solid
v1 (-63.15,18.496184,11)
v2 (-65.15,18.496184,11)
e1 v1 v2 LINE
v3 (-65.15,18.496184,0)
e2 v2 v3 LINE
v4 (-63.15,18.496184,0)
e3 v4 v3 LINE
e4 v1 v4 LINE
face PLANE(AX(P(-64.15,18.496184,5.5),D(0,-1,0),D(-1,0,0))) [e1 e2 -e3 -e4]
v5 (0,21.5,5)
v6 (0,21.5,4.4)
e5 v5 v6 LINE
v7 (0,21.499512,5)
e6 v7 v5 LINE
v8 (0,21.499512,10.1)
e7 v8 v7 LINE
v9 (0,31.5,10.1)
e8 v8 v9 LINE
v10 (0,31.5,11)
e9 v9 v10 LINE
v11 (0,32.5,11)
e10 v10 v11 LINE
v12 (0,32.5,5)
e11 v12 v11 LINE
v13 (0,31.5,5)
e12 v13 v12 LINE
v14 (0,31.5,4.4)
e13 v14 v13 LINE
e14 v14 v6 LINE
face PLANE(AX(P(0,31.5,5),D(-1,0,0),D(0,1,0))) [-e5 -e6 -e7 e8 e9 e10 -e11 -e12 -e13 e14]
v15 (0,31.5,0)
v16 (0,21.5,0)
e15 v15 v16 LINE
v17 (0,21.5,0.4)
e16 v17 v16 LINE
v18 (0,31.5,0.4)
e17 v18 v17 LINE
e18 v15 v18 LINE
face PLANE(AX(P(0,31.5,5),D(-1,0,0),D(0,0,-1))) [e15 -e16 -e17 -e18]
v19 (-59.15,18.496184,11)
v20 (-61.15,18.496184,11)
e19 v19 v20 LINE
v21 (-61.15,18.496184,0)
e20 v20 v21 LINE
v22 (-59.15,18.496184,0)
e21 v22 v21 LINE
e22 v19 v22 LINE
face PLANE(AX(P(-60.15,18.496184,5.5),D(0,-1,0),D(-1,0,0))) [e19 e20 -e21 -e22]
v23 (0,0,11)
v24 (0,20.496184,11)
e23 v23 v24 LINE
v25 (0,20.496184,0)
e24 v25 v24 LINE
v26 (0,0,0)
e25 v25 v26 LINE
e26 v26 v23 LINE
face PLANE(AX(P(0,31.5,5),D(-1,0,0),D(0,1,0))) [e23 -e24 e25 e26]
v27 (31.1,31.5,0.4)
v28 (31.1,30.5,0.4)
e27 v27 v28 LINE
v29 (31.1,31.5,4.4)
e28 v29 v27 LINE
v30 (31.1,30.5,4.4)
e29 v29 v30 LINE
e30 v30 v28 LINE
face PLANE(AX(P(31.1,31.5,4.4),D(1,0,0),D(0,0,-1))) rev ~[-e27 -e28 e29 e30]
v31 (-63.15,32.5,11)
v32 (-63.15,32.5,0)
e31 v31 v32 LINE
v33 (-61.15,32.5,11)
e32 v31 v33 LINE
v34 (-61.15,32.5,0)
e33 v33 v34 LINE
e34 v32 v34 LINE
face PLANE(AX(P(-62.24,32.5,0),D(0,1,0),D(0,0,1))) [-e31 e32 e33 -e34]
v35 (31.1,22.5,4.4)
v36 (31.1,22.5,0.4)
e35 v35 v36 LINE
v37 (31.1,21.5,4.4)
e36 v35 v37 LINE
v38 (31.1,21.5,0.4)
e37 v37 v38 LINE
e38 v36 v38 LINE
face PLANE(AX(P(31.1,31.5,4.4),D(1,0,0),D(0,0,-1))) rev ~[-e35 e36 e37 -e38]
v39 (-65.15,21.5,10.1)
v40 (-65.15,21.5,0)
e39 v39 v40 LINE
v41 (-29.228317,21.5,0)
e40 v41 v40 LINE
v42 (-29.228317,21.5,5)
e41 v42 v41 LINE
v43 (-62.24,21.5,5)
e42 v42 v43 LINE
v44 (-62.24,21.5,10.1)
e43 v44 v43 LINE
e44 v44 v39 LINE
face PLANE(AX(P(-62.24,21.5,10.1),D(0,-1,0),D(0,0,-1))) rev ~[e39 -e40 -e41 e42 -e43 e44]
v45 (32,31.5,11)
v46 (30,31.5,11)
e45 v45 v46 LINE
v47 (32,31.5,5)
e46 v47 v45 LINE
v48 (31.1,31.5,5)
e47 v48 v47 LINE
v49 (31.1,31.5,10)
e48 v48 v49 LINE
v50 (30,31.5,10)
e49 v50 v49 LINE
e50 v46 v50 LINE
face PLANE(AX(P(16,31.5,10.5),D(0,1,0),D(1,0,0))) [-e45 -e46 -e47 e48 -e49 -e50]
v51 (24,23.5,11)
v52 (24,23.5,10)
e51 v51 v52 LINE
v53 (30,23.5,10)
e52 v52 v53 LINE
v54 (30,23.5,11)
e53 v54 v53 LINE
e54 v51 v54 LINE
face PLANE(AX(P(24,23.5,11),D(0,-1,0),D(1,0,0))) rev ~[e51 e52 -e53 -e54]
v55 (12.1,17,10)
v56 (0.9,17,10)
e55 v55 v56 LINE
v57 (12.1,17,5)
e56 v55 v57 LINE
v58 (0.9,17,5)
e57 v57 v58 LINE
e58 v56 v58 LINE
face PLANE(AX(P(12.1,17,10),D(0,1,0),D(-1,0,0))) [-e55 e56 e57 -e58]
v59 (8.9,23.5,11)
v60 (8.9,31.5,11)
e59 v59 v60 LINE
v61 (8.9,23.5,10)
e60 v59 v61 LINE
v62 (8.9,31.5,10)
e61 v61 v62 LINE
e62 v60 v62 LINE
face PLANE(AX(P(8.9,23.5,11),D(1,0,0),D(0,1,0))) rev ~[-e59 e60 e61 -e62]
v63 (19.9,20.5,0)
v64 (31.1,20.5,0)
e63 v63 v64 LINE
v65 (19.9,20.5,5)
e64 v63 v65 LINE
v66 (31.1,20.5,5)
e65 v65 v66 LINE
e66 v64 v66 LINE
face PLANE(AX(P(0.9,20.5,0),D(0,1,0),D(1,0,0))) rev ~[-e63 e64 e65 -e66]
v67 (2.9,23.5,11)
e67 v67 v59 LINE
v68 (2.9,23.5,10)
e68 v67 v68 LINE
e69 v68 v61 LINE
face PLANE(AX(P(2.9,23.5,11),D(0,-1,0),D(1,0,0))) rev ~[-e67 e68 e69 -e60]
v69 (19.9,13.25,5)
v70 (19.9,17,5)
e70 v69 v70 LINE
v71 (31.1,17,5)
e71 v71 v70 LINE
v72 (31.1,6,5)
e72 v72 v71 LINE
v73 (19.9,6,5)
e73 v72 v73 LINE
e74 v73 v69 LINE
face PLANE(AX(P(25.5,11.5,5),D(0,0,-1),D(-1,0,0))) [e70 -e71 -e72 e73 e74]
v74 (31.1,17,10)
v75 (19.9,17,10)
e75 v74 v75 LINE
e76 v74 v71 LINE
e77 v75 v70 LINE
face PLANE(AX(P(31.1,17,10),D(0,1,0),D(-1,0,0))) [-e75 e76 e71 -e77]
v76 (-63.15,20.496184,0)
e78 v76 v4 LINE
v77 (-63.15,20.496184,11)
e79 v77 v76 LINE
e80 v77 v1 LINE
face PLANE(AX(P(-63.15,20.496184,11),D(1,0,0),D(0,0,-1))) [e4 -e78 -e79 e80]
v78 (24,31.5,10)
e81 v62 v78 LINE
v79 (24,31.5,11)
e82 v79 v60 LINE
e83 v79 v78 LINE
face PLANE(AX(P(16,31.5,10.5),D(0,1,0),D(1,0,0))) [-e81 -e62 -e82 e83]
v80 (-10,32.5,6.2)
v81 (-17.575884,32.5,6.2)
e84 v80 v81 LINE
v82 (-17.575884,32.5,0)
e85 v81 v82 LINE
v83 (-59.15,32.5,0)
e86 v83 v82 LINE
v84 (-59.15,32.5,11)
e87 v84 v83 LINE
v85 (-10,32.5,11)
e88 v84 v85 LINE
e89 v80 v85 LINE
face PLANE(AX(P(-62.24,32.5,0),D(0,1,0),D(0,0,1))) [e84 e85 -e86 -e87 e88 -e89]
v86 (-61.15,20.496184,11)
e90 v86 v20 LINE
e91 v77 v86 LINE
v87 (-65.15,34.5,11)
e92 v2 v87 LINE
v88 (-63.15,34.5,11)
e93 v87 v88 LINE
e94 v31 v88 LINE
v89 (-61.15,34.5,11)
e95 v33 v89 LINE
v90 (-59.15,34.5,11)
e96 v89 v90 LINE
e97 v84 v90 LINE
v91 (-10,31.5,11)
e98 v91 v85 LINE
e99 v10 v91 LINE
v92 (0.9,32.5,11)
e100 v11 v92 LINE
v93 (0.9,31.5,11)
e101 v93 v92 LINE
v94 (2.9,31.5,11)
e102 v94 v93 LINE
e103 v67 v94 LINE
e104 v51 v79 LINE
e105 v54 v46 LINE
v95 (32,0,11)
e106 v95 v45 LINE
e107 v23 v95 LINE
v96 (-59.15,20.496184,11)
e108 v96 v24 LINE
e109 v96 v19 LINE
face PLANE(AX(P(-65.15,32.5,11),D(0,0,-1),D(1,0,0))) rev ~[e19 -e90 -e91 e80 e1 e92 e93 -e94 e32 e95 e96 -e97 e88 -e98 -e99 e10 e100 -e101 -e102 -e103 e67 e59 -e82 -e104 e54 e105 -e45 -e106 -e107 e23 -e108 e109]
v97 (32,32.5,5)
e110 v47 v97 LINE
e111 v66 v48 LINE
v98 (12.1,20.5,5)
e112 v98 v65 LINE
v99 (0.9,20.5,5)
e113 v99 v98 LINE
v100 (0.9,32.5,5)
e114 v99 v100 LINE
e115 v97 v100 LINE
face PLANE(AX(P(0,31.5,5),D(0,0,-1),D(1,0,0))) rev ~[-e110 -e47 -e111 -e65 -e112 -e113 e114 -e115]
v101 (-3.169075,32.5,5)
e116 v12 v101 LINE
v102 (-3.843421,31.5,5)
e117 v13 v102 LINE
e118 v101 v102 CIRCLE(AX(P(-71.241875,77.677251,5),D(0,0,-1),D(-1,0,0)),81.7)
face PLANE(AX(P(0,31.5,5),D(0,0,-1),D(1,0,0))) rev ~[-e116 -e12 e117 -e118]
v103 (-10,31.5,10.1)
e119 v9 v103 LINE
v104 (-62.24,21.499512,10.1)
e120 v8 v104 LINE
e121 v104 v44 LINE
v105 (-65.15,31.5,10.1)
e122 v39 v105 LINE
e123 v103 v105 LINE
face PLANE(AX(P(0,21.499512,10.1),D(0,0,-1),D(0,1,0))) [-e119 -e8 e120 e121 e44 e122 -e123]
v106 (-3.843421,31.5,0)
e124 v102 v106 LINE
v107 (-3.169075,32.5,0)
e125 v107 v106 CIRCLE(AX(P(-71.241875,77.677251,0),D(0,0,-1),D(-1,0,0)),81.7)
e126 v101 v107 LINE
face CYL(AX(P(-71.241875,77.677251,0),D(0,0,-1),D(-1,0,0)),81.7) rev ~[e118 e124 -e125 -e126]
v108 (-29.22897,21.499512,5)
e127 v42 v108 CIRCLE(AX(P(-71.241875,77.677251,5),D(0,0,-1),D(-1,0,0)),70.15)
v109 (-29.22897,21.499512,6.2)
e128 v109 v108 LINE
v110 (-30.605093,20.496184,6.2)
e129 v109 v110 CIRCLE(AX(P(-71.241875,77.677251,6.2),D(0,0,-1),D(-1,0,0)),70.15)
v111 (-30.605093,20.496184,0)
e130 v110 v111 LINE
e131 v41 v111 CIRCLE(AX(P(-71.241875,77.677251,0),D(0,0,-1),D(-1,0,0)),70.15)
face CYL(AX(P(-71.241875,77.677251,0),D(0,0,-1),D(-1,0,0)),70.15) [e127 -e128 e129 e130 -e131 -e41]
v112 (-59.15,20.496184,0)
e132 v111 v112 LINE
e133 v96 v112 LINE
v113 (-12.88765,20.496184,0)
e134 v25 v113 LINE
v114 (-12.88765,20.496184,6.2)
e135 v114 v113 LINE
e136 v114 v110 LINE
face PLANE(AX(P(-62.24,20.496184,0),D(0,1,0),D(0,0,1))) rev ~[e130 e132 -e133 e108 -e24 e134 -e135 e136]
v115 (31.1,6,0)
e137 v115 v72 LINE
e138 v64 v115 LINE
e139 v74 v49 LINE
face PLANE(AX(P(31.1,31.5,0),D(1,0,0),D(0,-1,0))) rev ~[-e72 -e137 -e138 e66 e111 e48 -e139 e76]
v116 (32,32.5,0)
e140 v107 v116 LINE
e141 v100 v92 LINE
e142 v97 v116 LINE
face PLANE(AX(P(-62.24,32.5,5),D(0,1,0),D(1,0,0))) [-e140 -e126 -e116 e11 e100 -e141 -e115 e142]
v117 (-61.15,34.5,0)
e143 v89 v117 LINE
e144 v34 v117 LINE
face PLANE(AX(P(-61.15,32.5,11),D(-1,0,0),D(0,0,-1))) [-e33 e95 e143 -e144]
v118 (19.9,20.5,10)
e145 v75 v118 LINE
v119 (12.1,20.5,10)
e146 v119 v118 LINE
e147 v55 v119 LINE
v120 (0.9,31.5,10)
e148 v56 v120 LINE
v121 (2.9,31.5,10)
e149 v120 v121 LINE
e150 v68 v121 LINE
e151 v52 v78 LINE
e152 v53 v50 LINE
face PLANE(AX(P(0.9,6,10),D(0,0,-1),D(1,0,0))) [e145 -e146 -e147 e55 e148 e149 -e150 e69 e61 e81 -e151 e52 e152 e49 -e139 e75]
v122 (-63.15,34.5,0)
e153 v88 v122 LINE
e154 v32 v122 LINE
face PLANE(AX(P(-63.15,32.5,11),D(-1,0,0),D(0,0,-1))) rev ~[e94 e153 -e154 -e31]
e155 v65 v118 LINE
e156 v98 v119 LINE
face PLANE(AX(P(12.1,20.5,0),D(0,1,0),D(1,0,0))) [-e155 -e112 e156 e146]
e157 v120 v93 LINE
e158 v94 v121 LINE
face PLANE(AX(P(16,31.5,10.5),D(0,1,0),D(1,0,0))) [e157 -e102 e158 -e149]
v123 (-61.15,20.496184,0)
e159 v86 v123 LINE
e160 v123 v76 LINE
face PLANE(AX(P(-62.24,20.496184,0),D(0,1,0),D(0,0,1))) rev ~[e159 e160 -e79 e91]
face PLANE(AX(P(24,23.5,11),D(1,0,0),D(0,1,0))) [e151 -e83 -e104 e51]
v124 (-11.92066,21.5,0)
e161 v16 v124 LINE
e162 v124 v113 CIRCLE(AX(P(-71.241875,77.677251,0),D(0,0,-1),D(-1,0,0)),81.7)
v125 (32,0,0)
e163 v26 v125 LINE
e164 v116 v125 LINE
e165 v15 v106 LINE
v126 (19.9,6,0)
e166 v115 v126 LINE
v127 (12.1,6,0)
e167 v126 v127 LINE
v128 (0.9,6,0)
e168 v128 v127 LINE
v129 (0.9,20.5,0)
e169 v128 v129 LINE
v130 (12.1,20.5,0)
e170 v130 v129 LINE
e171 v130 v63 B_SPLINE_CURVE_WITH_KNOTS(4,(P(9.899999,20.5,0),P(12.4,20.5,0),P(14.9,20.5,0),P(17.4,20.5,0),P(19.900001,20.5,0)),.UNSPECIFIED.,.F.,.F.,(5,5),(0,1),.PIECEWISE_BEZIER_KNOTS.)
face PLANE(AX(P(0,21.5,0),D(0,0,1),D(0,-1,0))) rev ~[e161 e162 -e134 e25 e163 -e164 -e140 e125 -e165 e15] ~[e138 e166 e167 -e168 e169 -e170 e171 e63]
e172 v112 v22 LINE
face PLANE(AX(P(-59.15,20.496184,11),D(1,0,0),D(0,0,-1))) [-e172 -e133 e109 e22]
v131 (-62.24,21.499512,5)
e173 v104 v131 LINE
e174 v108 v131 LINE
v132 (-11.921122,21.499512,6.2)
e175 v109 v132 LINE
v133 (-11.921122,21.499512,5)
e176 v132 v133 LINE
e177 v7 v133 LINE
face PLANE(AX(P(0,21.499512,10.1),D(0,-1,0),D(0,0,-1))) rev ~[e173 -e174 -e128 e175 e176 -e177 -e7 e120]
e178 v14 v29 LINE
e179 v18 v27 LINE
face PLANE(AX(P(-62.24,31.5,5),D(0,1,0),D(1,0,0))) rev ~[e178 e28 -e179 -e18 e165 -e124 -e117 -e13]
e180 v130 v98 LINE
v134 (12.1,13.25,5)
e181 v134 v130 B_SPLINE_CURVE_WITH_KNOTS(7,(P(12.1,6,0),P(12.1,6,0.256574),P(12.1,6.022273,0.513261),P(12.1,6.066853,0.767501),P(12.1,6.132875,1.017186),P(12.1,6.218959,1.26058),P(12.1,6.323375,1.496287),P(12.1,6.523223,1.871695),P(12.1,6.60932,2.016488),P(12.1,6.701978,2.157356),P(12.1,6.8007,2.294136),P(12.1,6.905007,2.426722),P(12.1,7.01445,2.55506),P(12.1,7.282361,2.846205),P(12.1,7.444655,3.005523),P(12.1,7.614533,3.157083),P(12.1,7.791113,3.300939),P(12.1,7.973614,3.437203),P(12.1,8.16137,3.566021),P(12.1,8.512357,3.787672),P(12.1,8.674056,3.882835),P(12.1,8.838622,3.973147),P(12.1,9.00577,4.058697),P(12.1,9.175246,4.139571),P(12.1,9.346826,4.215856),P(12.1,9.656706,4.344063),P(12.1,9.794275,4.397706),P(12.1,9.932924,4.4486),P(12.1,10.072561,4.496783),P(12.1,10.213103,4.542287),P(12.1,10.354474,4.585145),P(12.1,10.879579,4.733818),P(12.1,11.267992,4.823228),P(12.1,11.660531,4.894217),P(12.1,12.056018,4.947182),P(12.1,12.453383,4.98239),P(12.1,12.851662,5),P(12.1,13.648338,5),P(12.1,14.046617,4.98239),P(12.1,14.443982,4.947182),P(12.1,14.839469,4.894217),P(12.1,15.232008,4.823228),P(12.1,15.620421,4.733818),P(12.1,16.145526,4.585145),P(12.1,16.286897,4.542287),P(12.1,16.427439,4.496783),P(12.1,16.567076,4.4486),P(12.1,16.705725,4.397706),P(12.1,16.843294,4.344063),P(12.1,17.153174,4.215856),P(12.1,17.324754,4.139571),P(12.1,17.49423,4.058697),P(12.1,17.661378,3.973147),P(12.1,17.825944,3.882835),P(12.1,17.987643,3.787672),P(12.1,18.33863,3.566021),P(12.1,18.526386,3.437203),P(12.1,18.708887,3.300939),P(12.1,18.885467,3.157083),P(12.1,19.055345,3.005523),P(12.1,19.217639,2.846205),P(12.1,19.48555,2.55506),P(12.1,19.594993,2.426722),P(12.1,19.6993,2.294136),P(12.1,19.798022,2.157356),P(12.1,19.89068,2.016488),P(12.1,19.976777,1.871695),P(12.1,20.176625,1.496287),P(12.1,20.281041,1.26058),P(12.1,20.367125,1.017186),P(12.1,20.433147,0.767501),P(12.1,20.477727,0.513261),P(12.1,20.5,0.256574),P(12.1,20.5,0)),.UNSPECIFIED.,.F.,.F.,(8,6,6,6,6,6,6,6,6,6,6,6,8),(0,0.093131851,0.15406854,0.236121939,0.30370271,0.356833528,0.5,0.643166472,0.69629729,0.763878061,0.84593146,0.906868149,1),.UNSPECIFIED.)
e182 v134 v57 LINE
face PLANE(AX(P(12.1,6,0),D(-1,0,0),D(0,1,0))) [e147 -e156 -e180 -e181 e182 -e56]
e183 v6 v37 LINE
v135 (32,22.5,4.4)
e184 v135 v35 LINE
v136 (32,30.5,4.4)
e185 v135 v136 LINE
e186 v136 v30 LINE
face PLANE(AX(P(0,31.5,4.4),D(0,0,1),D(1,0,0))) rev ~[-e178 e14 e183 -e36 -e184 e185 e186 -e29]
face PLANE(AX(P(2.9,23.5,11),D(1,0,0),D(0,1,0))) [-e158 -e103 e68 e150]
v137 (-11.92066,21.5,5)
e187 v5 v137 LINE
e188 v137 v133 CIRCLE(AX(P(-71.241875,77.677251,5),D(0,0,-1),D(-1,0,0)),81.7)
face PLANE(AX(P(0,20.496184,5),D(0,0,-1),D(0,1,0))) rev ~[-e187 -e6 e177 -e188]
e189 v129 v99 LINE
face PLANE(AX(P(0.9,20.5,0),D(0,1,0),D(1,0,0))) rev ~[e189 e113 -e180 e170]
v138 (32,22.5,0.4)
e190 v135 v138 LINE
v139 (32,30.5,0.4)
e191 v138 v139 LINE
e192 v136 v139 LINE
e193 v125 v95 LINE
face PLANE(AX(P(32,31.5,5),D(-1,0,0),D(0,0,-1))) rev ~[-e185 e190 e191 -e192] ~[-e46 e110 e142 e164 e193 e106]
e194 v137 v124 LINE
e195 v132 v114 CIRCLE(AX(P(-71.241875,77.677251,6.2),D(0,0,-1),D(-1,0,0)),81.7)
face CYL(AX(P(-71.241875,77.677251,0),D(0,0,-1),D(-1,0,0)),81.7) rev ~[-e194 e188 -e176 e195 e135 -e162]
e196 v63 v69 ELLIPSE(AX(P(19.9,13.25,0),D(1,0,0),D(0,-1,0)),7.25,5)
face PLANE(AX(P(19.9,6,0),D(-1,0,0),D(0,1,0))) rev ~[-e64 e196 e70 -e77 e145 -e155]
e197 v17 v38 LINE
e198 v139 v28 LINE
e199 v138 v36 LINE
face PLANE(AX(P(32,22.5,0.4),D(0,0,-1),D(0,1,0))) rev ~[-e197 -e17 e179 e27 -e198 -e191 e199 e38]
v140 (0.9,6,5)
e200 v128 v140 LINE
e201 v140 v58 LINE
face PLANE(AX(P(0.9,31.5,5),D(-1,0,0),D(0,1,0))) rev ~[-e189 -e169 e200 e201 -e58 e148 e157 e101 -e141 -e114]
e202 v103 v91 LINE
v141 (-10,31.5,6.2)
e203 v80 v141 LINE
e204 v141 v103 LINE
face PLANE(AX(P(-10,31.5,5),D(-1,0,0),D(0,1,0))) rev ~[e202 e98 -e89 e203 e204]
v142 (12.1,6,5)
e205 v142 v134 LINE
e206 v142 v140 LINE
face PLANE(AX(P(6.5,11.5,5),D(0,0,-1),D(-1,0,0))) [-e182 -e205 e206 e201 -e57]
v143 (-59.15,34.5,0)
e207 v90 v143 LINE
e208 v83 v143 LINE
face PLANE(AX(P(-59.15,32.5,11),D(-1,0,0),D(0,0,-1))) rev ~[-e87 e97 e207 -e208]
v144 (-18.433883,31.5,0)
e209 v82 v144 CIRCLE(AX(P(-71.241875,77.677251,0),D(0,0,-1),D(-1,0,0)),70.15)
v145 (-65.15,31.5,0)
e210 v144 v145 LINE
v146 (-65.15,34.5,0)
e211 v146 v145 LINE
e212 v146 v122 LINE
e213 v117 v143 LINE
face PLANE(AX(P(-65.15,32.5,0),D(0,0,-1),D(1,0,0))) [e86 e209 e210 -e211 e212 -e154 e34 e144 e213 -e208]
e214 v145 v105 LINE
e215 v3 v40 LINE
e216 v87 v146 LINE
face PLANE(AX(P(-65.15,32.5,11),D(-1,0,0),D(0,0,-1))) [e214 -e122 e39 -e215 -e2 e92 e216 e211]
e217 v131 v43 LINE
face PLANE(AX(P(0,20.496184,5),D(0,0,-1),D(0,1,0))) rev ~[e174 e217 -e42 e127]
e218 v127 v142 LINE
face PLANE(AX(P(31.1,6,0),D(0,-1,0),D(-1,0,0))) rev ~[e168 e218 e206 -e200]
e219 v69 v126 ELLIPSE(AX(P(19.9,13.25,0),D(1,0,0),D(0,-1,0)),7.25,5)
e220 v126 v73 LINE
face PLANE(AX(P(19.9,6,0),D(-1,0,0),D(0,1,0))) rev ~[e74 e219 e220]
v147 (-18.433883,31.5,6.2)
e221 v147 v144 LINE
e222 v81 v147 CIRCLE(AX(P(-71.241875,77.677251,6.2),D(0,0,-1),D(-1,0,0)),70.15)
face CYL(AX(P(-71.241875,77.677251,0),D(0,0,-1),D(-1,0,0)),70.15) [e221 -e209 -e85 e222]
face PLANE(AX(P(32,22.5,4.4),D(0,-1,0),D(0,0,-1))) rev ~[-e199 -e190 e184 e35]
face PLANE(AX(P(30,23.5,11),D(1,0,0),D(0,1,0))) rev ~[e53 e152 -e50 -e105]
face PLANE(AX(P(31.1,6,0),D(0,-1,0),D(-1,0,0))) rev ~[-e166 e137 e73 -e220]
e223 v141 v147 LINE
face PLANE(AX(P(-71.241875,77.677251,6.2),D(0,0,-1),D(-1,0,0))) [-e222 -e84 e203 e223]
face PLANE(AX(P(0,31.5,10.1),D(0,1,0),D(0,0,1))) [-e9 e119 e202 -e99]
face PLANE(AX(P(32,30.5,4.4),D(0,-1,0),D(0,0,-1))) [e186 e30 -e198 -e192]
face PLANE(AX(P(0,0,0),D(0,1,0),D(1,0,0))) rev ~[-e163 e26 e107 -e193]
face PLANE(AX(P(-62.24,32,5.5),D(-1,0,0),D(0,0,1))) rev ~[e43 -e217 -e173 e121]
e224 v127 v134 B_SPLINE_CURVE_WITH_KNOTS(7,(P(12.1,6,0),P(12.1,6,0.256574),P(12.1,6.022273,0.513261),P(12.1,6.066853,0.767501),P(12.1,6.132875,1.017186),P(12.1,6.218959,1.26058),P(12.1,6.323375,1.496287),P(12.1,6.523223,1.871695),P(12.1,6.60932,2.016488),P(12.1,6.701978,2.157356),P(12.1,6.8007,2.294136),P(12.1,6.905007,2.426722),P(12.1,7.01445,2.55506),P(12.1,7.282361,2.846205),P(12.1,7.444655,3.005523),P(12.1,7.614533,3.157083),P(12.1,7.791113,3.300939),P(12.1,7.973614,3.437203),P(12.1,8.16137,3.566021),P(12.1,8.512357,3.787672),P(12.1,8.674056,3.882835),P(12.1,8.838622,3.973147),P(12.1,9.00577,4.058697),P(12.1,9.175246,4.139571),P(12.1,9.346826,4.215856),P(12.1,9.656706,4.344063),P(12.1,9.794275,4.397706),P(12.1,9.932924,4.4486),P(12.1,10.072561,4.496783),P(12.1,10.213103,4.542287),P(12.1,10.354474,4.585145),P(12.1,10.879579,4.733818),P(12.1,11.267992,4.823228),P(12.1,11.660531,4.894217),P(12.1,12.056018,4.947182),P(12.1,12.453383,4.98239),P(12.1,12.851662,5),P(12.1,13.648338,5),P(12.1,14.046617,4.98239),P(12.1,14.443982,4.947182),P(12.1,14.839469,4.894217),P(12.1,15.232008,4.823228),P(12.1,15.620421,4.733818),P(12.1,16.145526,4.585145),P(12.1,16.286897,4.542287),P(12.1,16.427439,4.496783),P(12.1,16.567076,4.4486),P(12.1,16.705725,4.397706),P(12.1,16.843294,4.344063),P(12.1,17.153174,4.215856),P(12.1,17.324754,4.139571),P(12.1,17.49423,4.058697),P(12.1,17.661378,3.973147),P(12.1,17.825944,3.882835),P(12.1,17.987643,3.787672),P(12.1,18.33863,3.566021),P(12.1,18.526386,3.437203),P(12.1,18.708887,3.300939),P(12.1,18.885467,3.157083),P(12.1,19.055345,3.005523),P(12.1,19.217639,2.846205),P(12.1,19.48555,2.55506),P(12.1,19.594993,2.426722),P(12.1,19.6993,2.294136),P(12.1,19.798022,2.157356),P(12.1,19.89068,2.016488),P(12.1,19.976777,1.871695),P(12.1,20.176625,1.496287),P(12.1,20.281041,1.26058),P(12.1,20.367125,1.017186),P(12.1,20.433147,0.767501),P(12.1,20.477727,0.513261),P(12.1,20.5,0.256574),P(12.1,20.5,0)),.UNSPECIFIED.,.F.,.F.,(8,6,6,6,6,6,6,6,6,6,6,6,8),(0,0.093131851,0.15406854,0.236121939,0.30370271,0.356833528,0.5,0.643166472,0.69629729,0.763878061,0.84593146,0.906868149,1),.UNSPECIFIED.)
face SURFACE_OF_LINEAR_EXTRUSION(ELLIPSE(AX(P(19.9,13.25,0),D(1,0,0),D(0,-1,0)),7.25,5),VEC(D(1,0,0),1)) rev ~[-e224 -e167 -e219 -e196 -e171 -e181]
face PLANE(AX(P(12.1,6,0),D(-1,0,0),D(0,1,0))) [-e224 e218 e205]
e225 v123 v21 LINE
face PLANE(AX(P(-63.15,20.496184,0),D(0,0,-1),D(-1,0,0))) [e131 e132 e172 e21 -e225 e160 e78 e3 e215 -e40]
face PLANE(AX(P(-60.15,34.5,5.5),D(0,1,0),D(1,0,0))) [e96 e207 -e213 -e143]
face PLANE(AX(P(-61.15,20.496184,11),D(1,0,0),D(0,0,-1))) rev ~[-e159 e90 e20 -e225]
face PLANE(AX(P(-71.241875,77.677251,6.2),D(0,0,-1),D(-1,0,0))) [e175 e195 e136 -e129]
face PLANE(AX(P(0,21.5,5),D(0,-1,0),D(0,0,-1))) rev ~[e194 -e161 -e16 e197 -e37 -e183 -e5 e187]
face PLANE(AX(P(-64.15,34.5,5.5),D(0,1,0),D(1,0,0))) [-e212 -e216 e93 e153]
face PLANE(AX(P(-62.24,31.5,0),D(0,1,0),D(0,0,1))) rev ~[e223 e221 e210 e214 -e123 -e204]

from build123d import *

# Parameters (mm, degrees)
BOSS_EXTRUDE2_DEPTH  = 11
BOSS_EXTRUDE3_DEPTH  = 5
SKETCH2_W            = 30.2
SKETCH2_H            = 1
BOSS_EXTRUDE4_DEPTH  = 25.5
SKETCH1_W            = 7.8
SKETCH1_H            = 14.5
BOSS_EXTRUDE5_DEPTH  = 11
SKETCH3_W            = 11.2
SKETCH3_H            = 11
BOSS_EXTRUDE6_DEPTH  = 5
SKETCH4_W            = 31.1
SKETCH4_H            = 4
CUT_EXTRUDE1_DEPTH   = 10
SKETCH5_W            = 32
SKETCH5_H            = 5
BOSS_EXTRUDE7_DEPTH  = 1
SKETCH7_W            = 5
SKETCH7_H            = 1
SKETCH7_H_2          = 1.003816478
BOSS_EXTRUDE8_DEPTH  = 62.24
SKETCH8_W            = 0.9
SKETCH8_H            = 1
BOSS_EXTRUDE9_DEPTH  = 6
BOSS_EXTRUDE10_DEPTH = 62.26
SKETCH10_W           = 52.24
SKETCH10_H           = 1
BOSS_EXTRUDE11_DEPTH = 6
SKETCH11_R           = 81.7
SKETCH11_R_2         = 70.15
CUT_EXTRUDE2_DEPTH   = 6.2
BOSS_EXTRUDE12_DEPTH = 2.91
SKETCH14_W           = 2
SKETCH14_H           = 11
BOSS_EXTRUDE13_DEPTH = 2
SKETCH15_W           = 2
SKETCH15_H           = 11
BOSS_EXTRUDE14_DEPTH = 2
SKETCH20_RX          = 7.25
SKETCH20_RY          = 5
CUT_EXTRUDE3_DEPTH   = 10
SKETCH21_W           = 6
SKETCH21_H           = 8
CUT_EXTRUDE4_DEPTH   = 1
SKETCH22_W           = 4
SKETCH22_H           = 8
CUT_EXTRUDE5_DEPTH   = 1


with BuildPart() as part:
    # Sketch1<3> → Boss-Extrude2 (new body)
    with BuildSketch(Plane.XY):
        Polygon((0, 31.5), (0, 0), (32, 0), (32, 31.5), (31.1, 31.5), (31.1, 6), (0.9, 6), (0.9, 31.5), align=None)
    extrude(amount=BOSS_EXTRUDE2_DEPTH)

    # Sketch1<4> → Boss-Extrude3 (add)
    with BuildSketch(Plane.XY):
        Polygon((0.9, 31.5), (0.9, 20.5), (12.1, 20.5), (19.9, 20.5), (31.1, 20.5), (31.1, 31.5), align=None)
    extrude(amount=BOSS_EXTRUDE3_DEPTH)

    # Sketch2 → Boss-Extrude4 (add)
    with BuildSketch(Plane(origin=(0, 6, 0), x_dir=(1, 0, 0), z_dir=(0, 1, 0))):
        with Locations((16, -10.5)):
            Rectangle(SKETCH2_W, SKETCH2_H)
    extrude(amount=BOSS_EXTRUDE4_DEPTH)

    # Sketch1 → Boss-Extrude5 (add)
    with BuildSketch(Plane.XY):
        with Locations((16, 13.25)):
            Rectangle(SKETCH1_W, SKETCH1_H)
    extrude(amount=BOSS_EXTRUDE5_DEPTH)

    # Sketch3 → Boss-Extrude6 (add)
    with BuildSketch(Plane(origin=(0, 0, 10), x_dir=(-1, 0, 0), z_dir=(0, 0, -1))):
        with Locations((-6.5, 11.5)):
            Rectangle(SKETCH3_W, SKETCH3_H)
        with Locations((-25.5, 11.5)):
            Rectangle(SKETCH3_W, SKETCH3_H)
    extrude(amount=BOSS_EXTRUDE6_DEPTH)

    # Sketch4 → Cut-Extrude1 (cut)
    with BuildSketch(Plane(origin=(0, 31.5, 0), x_dir=(1, 0, 0), z_dir=(0, 1, 0))):
        with Locations((15.55, -2.4)):
            Rectangle(SKETCH4_W, SKETCH4_H)
    extrude(amount=-CUT_EXTRUDE1_DEPTH, mode=Mode.SUBTRACT)

    # Sketch5 → Boss-Extrude7 (add)
    with BuildSketch(Plane(origin=(0, 31.5, 0), x_dir=(1, 0, 0), z_dir=(0, 1, 0))):
        with Locations((16, -2.5)):
            Rectangle(SKETCH5_W, SKETCH5_H)
    extrude(amount=BOSS_EXTRUDE7_DEPTH)

    # Sketch7 → Boss-Extrude8 (add)
    with BuildSketch(Plane.ZY):
        with Locations((2.5, 32)):
            Rectangle(SKETCH7_W, SKETCH7_H)
        with Locations((2.5, 20.998091761)):
            Rectangle(SKETCH7_W, SKETCH7_H_2)
    extrude(amount=BOSS_EXTRUDE8_DEPTH)

    # Sketch8 → Boss-Extrude9 (add)
    with BuildSketch(Plane.XY.offset(5)):
        with Locations((0.45, 32)):
            Rectangle(SKETCH8_W, SKETCH8_H)
    extrude(amount=BOSS_EXTRUDE9_DEPTH)

    # Sketch9 → Boss-Extrude10 (add)
    with BuildSketch(Plane.ZY):
        Polygon((11, 31.5), (10.1, 31.5), (10.1, 21.499511858), (5, 21.499511858), (5, 20.496183522), (11, 20.496183522), align=None)
    extrude(amount=BOSS_EXTRUDE10_DEPTH)

    # Sketch10 → Boss-Extrude11 (add)
    with BuildSketch(Plane.XY.offset(5)):
        with Locations((-36.12, 32)):
            Rectangle(SKETCH10_W, SKETCH10_H)
    extrude(amount=BOSS_EXTRUDE11_DEPTH)

    # Sketch11 → Cut-Extrude2 (cut)
    with BuildSketch(Plane(origin=(0, 0, 0), x_dir=(-1, 0, 0), z_dir=(0, 0, -1))):
        with Locations((71.241875, 77.677250508)):
            Circle(SKETCH11_R)
        with Locations((71.241875, 77.677250508)):
            Circle(SKETCH11_R_2, mode=Mode.SUBTRACT)
    extrude(amount=-CUT_EXTRUDE2_DEPTH, mode=Mode.SUBTRACT)

    # Sketch12 → Boss-Extrude12 (add)
    with BuildSketch(Plane.ZY.offset(62.24)):
        Polygon((11, 32.5), (0, 32.5), (0, 31.5), (10.1, 31.5), (10.1, 21.5), (0, 21.5), (0, 20.496183522), (11, 20.496183522), align=None)
    extrude(amount=BOSS_EXTRUDE12_DEPTH)

    # Sketch14 → Boss-Extrude13 (add)
    with BuildSketch(Plane(origin=(0, 20.496183522, 0), x_dir=(-1, 0, 0), z_dir=(0, -1, 0))):
        with Locations((64.15, -5.5)):
            Rectangle(SKETCH14_W, SKETCH14_H)
        with Locations((60.15, -5.5)):
            Rectangle(SKETCH14_W, SKETCH14_H)
    extrude(amount=BOSS_EXTRUDE13_DEPTH)

    # Sketch15 → Boss-Extrude14 (add)
    with BuildSketch(Plane(origin=(0, 32.5, 0), x_dir=(1, 0, 0), z_dir=(0, 1, 0))):
        with Locations((-64.15, -5.5)):
            Rectangle(SKETCH15_W, SKETCH15_H)
        with Locations((-60.15, -5.5)):
            Rectangle(SKETCH15_W, SKETCH15_H)
    extrude(amount=BOSS_EXTRUDE14_DEPTH)

    # Sketch20 → Cut-Extrude3 (cut)
    with BuildSketch(Plane(origin=(19.9, 0, 0), x_dir=(0, 0, -1), z_dir=(1, 0, 0))):
        with Locations(Location((0, 13.25), (0, 0, -90))):
            Ellipse(SKETCH20_RX, SKETCH20_RY)
    extrude(amount=-CUT_EXTRUDE3_DEPTH, mode=Mode.SUBTRACT)

    # Sketch21 → Cut-Extrude4 (cut)
    with BuildSketch(Plane.XY.offset(11)):
        with Locations((5.9, 27.5)):
            Rectangle(SKETCH21_W, SKETCH21_H)
        with Locations((27, 27.5)):
            Rectangle(SKETCH21_W, SKETCH21_H)
    extrude(amount=-CUT_EXTRUDE4_DEPTH, mode=Mode.SUBTRACT)

    # Sketch22 → Cut-Extrude5 (cut)
    with BuildSketch(Plane(origin=(32, 0, 0), x_dir=(0, 0, -1), z_dir=(1, 0, 0))):
        with Locations((-2.4, 26.5)):
            Rectangle(SKETCH22_W, SKETCH22_H)
    extrude(amount=-CUT_EXTRUDE5_DEPTH, mode=Mode.SUBTRACT)


solid = part.part
